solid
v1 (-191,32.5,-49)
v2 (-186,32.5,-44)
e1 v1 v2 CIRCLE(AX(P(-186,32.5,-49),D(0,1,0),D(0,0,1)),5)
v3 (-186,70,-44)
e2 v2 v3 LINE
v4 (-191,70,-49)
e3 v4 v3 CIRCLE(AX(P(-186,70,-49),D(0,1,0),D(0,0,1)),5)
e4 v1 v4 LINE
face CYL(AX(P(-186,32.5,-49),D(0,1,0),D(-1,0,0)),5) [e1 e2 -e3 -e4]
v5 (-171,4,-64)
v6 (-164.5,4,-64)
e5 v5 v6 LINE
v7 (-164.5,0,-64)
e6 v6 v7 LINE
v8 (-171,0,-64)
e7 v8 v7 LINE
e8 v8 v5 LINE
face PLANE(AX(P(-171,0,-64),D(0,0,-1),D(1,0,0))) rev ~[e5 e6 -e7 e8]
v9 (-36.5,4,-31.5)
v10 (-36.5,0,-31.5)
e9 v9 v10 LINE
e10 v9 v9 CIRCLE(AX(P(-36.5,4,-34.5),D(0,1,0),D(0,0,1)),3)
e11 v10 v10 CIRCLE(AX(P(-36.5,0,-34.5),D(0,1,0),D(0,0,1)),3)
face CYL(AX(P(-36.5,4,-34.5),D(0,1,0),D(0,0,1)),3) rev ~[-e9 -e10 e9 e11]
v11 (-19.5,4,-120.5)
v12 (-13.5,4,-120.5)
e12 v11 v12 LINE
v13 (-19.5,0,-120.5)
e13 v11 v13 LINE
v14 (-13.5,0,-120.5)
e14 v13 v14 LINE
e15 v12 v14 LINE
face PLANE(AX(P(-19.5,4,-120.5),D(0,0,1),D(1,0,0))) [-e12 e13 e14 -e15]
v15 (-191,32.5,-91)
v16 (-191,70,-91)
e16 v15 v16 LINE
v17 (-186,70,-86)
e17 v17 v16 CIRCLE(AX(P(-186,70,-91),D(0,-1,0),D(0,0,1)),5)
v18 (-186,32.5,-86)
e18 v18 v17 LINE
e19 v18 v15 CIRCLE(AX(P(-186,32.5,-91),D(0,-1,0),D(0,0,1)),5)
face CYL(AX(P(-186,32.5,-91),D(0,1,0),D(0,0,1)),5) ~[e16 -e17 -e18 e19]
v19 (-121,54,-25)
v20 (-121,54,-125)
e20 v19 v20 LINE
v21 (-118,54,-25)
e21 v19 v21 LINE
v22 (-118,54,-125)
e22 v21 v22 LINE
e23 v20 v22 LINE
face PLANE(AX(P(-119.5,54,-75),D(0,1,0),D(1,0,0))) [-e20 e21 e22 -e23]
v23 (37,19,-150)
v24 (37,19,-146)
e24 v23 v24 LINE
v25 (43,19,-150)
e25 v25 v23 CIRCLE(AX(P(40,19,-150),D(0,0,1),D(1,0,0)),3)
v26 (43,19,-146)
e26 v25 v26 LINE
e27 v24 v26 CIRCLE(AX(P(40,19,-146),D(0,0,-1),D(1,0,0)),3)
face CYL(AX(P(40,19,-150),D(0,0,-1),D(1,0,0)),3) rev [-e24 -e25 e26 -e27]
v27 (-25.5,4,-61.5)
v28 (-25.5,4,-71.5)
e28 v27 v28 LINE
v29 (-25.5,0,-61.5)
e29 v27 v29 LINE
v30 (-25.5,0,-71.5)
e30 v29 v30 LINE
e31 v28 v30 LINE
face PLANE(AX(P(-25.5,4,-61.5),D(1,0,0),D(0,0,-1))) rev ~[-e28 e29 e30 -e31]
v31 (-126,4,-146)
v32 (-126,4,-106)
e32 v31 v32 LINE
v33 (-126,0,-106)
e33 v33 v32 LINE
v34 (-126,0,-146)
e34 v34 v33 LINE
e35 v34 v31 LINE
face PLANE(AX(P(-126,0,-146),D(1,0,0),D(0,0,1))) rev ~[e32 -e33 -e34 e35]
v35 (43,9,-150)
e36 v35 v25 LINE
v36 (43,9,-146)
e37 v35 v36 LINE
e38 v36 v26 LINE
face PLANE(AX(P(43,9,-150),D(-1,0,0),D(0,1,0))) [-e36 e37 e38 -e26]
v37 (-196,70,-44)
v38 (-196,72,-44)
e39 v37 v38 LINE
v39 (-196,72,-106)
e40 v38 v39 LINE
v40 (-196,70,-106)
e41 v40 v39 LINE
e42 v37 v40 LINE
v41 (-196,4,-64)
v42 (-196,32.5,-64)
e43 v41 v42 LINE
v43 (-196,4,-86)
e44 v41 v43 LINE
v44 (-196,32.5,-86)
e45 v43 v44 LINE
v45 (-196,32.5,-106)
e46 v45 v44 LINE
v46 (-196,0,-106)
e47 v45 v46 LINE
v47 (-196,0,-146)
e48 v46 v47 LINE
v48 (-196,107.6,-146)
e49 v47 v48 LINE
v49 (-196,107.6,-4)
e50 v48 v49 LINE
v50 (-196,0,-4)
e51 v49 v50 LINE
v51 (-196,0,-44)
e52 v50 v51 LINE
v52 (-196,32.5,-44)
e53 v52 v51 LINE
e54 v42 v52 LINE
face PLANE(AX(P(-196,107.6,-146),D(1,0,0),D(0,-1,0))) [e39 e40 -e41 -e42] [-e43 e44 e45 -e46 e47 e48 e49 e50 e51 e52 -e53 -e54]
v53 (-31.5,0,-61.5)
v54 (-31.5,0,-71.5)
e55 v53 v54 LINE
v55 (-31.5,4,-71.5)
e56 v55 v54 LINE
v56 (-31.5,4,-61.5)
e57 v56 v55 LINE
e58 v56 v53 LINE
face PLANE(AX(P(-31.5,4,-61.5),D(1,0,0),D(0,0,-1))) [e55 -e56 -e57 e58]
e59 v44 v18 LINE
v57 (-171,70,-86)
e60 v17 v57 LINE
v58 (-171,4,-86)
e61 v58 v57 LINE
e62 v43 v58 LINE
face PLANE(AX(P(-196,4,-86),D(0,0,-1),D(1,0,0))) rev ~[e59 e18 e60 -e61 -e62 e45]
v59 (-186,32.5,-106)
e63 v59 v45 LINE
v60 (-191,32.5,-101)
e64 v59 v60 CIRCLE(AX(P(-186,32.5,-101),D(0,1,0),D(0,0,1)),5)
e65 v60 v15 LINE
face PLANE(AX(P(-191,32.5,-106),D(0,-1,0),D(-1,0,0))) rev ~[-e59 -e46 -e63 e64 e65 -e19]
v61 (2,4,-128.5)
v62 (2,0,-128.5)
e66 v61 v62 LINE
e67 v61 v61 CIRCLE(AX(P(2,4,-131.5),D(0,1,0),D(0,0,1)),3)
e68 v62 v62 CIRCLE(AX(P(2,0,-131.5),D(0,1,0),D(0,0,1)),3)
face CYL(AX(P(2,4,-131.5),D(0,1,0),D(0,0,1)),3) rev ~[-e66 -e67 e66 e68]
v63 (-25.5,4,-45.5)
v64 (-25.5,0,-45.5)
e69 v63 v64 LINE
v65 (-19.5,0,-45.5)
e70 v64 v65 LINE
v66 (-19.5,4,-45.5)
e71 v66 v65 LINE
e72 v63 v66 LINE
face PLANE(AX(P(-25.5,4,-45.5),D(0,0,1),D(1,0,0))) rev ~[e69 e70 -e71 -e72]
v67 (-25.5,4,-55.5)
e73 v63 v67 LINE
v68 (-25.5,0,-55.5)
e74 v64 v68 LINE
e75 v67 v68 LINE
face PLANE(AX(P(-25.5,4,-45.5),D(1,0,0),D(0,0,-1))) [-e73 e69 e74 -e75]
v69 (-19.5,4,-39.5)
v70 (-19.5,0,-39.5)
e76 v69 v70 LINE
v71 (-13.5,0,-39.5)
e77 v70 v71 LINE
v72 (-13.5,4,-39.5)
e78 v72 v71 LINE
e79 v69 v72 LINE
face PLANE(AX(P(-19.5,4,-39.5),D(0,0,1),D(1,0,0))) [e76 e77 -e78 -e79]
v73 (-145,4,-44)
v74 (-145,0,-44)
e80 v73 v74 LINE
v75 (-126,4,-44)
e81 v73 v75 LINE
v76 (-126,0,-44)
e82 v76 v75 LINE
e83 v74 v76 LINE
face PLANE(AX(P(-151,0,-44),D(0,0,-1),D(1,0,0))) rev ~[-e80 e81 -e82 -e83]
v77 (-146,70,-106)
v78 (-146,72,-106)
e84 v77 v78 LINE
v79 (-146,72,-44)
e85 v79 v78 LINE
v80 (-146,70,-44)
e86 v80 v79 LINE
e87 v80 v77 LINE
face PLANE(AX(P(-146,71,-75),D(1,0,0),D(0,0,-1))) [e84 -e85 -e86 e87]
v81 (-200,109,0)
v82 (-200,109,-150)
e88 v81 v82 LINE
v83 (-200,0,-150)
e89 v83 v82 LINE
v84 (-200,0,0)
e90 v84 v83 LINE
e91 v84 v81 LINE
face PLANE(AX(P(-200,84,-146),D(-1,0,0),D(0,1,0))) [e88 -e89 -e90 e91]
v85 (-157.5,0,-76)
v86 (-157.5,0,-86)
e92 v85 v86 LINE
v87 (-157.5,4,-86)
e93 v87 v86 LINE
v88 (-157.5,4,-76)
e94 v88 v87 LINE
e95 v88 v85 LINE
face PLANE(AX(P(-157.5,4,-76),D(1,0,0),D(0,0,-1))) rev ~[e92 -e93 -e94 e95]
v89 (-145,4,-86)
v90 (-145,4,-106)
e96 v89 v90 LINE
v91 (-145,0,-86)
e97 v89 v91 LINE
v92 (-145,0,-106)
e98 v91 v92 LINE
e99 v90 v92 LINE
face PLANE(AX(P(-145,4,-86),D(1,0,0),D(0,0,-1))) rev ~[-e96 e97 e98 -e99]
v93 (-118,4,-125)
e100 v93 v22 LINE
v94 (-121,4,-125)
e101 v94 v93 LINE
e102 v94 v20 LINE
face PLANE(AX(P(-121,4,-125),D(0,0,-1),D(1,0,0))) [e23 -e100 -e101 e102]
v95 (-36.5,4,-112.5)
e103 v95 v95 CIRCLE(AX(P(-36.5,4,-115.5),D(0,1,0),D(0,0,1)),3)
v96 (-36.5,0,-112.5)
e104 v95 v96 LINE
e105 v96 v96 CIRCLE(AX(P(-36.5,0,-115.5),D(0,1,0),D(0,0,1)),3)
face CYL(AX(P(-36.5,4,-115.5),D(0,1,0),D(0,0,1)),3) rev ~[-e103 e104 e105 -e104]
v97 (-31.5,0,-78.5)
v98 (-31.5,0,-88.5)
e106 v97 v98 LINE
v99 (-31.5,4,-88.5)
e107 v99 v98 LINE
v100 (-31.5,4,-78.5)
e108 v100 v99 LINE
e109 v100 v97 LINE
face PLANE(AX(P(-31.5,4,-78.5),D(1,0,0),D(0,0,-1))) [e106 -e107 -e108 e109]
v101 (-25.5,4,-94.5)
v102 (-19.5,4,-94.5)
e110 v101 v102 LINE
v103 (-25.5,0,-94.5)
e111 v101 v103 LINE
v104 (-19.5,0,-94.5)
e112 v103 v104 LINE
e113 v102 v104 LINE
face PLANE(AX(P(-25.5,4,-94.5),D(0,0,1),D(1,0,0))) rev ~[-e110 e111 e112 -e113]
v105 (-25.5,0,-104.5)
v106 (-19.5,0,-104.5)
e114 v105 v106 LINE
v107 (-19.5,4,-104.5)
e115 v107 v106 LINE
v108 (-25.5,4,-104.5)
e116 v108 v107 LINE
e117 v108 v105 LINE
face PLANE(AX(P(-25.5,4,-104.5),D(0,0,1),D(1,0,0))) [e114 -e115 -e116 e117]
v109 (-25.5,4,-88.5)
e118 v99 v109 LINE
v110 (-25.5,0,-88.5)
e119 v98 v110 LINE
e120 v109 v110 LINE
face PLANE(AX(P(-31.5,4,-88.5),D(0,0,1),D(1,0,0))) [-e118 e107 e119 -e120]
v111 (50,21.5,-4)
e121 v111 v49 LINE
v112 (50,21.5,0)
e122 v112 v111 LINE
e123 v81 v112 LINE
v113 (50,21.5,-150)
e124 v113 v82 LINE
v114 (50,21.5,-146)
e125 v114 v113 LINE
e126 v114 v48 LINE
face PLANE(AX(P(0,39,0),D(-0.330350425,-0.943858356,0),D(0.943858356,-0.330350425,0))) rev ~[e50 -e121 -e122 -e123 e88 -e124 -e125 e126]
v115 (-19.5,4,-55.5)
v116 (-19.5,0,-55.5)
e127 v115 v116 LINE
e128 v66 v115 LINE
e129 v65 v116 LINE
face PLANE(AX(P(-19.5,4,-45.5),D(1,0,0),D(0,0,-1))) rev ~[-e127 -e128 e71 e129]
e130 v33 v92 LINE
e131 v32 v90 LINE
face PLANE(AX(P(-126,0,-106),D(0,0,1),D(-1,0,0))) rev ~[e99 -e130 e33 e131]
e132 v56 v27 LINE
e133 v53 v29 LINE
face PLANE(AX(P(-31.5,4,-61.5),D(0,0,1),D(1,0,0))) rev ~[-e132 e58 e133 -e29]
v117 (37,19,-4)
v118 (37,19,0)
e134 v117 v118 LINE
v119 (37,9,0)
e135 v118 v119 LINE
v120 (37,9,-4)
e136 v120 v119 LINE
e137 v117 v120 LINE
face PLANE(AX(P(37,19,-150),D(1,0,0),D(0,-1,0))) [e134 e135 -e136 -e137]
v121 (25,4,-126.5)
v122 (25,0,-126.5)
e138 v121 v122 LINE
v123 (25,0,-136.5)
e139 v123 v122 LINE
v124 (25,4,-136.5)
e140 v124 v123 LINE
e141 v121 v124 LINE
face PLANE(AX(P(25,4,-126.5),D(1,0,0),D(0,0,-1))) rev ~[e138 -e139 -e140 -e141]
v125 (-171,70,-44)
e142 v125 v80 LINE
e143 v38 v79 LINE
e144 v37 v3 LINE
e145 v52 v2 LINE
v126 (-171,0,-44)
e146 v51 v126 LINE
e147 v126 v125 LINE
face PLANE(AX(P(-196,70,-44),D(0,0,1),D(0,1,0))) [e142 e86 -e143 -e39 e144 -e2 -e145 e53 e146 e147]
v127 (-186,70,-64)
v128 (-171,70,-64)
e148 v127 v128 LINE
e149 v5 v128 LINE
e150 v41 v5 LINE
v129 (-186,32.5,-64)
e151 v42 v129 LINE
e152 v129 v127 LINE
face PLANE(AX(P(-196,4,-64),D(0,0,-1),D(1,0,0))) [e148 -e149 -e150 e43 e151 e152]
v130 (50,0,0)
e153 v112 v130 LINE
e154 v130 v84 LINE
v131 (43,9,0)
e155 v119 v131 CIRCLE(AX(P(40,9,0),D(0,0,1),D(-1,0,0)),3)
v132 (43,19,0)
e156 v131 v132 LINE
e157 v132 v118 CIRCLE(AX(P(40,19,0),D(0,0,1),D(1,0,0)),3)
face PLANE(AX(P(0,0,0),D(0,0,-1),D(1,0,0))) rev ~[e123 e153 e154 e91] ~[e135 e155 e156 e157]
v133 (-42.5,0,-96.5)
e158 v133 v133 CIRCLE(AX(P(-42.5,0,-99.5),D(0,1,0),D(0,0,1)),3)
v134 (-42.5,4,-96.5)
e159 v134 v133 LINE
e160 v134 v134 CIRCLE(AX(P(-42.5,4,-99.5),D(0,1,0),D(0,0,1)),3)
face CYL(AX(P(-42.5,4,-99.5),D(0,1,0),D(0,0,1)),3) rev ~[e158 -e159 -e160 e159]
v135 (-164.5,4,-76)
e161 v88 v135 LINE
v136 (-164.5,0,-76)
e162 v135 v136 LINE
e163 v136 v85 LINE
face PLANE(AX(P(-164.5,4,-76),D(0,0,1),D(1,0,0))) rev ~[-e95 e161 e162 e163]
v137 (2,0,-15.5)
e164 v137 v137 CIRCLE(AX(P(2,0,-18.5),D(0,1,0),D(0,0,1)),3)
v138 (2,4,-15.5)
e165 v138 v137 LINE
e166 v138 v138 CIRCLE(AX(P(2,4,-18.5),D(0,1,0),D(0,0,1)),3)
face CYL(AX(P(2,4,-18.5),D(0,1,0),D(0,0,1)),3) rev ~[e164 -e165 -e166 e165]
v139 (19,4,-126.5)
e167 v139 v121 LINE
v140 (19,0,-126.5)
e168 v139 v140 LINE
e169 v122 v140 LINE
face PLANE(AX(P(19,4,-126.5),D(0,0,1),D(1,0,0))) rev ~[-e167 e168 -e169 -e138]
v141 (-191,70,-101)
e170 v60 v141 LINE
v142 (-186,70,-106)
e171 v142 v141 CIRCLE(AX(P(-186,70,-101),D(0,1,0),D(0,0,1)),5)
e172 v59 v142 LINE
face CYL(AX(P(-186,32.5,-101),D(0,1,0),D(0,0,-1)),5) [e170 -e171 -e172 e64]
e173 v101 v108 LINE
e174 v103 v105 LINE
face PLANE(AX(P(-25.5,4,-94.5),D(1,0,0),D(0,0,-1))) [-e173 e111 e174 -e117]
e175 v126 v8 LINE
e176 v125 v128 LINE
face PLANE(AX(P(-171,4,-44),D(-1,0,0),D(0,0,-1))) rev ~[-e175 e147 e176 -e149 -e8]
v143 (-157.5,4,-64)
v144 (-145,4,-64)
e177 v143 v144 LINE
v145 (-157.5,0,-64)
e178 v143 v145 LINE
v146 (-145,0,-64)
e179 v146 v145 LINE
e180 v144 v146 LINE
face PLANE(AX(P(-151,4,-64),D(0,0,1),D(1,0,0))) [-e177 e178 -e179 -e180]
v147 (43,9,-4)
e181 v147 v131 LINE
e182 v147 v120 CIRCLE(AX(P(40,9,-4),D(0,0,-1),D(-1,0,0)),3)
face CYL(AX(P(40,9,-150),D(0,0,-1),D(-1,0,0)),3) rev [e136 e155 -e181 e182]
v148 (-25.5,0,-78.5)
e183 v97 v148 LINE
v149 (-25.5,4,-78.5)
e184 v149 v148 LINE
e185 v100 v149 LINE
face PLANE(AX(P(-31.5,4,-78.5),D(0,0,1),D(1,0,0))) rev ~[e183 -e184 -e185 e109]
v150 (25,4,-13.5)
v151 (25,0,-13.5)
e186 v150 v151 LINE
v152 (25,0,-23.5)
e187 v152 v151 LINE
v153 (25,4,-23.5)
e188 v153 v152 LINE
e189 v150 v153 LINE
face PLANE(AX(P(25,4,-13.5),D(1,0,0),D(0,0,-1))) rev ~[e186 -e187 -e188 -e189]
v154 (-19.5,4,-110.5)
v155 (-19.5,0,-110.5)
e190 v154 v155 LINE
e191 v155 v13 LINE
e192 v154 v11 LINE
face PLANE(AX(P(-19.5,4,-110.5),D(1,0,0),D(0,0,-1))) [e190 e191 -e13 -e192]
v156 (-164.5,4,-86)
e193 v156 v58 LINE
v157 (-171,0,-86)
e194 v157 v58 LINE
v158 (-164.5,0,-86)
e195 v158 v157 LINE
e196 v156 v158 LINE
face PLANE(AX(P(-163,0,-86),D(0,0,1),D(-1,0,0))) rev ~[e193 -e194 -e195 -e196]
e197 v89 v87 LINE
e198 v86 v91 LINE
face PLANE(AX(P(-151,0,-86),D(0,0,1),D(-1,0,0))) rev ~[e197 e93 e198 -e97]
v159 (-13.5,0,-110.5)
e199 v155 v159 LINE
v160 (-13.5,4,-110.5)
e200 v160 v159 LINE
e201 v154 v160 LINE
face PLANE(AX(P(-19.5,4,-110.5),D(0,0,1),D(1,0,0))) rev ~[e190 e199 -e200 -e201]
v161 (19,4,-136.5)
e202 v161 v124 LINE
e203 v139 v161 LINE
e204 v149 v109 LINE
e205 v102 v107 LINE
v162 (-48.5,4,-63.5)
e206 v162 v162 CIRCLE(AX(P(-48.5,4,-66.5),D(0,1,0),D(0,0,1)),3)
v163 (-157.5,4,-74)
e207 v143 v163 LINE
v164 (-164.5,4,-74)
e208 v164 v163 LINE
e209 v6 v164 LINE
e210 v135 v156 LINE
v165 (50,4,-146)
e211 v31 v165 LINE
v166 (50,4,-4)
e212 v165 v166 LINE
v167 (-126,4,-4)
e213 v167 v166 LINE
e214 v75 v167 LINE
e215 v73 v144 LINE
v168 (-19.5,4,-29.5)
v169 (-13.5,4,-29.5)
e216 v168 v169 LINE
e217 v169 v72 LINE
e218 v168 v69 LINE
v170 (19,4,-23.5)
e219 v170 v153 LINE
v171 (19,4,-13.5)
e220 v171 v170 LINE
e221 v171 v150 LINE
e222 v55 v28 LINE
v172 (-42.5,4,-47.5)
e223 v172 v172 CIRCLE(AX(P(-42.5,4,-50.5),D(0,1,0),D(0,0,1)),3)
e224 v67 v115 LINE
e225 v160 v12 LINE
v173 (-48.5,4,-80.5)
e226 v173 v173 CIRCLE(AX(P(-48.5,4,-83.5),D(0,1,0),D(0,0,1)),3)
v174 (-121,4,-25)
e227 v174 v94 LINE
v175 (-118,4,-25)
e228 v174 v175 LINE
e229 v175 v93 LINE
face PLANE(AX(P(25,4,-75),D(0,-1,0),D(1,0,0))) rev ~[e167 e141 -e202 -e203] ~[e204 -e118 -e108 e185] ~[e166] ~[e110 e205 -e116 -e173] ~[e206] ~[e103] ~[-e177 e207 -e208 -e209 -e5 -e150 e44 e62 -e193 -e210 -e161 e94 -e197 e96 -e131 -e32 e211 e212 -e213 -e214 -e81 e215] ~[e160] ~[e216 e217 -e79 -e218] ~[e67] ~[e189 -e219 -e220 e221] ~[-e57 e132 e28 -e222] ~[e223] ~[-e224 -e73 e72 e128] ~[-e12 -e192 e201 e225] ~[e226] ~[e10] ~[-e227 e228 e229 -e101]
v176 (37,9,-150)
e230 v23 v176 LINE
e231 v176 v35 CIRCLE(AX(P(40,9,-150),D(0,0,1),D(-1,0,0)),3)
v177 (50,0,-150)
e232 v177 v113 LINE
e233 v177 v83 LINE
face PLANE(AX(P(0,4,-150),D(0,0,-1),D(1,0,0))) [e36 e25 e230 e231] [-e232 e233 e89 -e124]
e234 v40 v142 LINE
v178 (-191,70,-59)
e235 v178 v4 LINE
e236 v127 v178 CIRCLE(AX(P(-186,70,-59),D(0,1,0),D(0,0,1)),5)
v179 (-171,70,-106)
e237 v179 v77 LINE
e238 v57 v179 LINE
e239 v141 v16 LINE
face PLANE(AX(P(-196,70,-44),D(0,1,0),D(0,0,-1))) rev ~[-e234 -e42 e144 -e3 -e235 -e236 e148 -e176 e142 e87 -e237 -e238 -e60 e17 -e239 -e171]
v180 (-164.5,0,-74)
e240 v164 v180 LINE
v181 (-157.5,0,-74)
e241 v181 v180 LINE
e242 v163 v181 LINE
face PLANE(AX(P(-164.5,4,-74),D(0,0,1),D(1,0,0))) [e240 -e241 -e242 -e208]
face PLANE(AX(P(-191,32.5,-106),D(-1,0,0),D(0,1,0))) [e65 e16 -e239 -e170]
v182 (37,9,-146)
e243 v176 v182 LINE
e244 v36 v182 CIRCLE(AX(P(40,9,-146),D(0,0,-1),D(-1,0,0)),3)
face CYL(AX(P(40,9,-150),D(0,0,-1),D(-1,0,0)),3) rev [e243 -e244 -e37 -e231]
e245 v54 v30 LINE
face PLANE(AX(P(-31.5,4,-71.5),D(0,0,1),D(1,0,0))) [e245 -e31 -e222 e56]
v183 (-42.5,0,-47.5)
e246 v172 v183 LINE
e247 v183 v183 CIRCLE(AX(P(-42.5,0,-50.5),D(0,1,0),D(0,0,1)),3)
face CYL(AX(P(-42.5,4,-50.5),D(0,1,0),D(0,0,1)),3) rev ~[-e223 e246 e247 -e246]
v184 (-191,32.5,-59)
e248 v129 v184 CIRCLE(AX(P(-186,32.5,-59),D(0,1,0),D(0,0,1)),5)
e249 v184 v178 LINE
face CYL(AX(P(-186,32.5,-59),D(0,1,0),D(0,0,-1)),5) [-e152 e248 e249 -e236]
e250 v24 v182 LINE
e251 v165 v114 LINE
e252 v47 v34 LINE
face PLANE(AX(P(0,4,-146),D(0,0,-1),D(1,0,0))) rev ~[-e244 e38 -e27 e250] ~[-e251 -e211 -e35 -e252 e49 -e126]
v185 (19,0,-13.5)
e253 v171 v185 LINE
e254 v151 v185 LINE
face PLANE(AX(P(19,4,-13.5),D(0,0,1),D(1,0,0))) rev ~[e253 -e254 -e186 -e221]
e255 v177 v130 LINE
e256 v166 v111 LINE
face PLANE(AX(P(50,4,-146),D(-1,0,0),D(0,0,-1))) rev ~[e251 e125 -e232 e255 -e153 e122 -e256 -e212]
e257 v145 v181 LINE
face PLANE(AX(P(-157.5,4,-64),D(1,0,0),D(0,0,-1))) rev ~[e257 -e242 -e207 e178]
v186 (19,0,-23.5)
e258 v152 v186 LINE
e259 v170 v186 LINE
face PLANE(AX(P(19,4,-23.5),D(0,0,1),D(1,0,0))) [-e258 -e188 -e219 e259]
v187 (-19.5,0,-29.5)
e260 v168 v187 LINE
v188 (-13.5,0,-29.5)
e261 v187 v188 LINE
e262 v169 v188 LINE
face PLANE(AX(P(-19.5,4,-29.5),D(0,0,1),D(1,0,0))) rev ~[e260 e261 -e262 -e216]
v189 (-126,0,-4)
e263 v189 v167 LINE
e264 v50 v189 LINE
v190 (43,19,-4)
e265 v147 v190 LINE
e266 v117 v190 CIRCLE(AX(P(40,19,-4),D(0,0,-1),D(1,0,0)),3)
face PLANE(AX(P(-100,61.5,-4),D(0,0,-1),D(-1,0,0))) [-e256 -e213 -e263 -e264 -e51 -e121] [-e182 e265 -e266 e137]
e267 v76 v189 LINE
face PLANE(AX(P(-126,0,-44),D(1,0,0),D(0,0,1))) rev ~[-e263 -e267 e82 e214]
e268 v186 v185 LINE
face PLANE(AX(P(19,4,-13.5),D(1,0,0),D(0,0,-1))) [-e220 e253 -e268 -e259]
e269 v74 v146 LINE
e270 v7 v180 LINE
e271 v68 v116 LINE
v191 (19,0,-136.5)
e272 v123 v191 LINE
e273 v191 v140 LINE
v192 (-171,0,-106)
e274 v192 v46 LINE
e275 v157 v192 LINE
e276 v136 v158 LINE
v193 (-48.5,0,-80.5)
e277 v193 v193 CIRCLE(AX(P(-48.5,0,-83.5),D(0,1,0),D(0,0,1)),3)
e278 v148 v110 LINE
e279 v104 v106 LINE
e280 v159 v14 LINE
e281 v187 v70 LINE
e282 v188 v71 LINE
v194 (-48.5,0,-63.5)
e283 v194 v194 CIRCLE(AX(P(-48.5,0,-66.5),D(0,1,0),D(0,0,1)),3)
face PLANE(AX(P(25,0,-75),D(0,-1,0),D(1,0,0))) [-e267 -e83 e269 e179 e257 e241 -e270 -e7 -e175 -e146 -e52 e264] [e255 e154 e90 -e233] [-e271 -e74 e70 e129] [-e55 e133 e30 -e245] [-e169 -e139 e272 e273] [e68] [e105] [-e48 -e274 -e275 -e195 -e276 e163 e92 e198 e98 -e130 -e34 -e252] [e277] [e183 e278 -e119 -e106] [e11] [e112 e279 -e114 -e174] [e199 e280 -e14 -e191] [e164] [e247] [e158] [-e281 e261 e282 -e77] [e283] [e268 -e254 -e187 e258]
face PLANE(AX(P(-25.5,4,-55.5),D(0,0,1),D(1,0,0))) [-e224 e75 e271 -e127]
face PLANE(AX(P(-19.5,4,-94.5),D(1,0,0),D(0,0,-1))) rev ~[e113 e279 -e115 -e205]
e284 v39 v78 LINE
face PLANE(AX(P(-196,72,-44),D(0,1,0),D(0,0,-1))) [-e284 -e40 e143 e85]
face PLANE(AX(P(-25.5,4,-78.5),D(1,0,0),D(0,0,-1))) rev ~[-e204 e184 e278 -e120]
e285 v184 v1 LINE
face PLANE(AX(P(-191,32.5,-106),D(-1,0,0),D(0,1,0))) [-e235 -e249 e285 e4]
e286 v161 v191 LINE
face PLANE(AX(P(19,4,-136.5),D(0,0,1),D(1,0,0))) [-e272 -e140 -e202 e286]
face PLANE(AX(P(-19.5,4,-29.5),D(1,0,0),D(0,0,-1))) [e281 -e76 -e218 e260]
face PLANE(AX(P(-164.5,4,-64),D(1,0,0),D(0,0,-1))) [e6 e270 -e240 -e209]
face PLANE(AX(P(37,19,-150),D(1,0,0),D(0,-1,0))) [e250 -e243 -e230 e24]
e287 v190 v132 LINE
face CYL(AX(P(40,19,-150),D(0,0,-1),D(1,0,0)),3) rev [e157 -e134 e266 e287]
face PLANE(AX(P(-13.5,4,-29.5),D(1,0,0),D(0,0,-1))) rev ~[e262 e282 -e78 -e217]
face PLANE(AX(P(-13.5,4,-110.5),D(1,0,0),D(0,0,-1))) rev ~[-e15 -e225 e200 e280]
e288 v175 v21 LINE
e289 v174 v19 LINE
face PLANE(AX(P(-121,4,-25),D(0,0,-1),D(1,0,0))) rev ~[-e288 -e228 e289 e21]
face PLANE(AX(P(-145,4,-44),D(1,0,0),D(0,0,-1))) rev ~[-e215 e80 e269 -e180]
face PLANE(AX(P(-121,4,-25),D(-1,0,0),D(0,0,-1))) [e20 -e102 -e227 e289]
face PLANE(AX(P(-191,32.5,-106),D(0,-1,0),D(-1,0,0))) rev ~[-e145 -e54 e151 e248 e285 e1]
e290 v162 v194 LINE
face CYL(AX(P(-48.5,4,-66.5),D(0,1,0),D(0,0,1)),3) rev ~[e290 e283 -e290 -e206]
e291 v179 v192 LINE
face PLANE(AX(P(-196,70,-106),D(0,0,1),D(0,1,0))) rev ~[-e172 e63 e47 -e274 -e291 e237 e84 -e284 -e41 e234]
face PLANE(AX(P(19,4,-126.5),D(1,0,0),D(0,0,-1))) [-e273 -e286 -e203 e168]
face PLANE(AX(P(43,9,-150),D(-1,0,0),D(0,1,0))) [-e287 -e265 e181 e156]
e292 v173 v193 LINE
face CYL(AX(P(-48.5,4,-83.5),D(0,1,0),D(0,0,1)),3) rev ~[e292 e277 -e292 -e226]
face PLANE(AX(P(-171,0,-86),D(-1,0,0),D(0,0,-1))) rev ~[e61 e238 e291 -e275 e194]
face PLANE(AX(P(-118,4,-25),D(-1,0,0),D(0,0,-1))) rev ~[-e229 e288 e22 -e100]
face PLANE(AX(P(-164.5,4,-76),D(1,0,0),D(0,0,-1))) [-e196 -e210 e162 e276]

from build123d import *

# Parameters (mm, degrees)
SKETCH1_W            = 200
SKETCH1_H            = 150
SKETCH1_W_2          = 192
SKETCH1_H_2          = 142
BOSS_EXTRUDE2_DEPTH  = 4
SKETCH2_W            = 200
SKETCH2_H            = 150
SKETCH2_W_2          = 192
SKETCH2_H_2          = 142
BOSS_EXTRUDE3_DEPTH  = 80
CUT_EXTRUDE1_DEPTH   = 150
SKETCH4_R            = 3
SKETCH4_W            = 6
SKETCH4_H            = 10
CUT_EXTRUDE2_DEPTH   = 10
SKETCH5_W            = 142
SKETCH5_H            = 11.4
CUT_EXTRUDE4_DEPTH   = 10
SKETCH6_W            = 25
SKETCH6_H            = 20
BOSS_EXTRUDE4_DEPTH  = 66
SKETCH7_W            = 5
SKETCH7_H            = 37.5
CUT_EXTRUDE5_DEPTH   = 66
BOSS_EXTRUDE6_DEPTH  = 4
BOSS_EXTRUDE7_DEPTH  = 4
BOSS_EXTRUDE8_DEPTH  = 142
FILLET1_R            = 5
FILLET2_R            = 5
FILLET3_R            = 5
SKETCH15_W           = 62
SKETCH15_H           = 2
BOSS_EXTRUDE9_DEPTH  = 50
SKETCH16_W           = 6
SKETCH16_H           = 20
CUT_EXTRUDE8_DEPTH   = 50
SKETCH17_W           = 7
SKETCH17_H           = 10
CUT_EXTRUDE9_DEPTH   = 50
SKETCH18_W           = 50
SKETCH18_H           = 150
BOSS_EXTRUDE10_DEPTH = 4
SKETCH19_W           = 50
SKETCH19_H           = 4
BOSS_EXTRUDE11_DEPTH = 35
CUT_EXTRUDE10_DEPTH  = 210
SKETCH21_R           = 3
SKETCH21_W           = 6
SKETCH21_H           = 10
CUT_EXTRUDE11_DEPTH  = 30
SKETCH22_W           = 3
SKETCH22_H           = 100
BOSS_EXTRUDE12_DEPTH = 50
CUT_EXTRUDE12_DEPTH  = 150


with BuildPart() as part:
    # Sketch1 → Boss-Extrude2 (new body)
    # profile 1 of 3: a face of its own
    with BuildSketch(Plane(origin=(0, 0, 0), x_dir=(1, 0, 0), z_dir=(0, 1, 0))):
        with Locations((-100, 75)):
            Rectangle(SKETCH1_W, SKETCH1_H)
        with Locations((-100, 75)):
            Rectangle(SKETCH1_W_2, SKETCH1_H_2, mode=Mode.SUBTRACT)
    # profile 2 of 3: a face of its own
    with BuildSketch(Plane(origin=(0, 0, 0), x_dir=(1, 0, 0), z_dir=(0, 1, 0))):
        Polygon((-4, 75), (-196, 75), (-196, 44), (-171, 44), (-171, 64), (-163, 64), (-163, 74), (-159, 74), (-159, 64), (-151, 64), (-151, 44), (-126, 44), (-126, 4), (-4, 4), align=None)
    # profile 3 of 3: a face of its own
    with BuildSketch(Plane(origin=(0, 0, 0), x_dir=(1, 0, 0), z_dir=(0, 1, 0))):
        Polygon((-196, 106), (-196, 75), (-4, 75), (-4, 146), (-126, 146), (-126, 106), (-151, 106), (-151, 86), (-159, 86), (-159, 76), (-163, 76), (-163, 86), (-171, 86), (-171, 106), align=None)
    extrude(amount=BOSS_EXTRUDE2_DEPTH)

    # Sketch2 → Boss-Extrude3 (add)
    with BuildSketch(Plane(origin=(0, 4, 0), x_dir=(1, 0, 0), z_dir=(0, 1, 0))):
        with Locations((-100, 75)):
            Rectangle(SKETCH2_W, SKETCH2_H)
        with Locations((-100, 75)):
            Rectangle(SKETCH2_W_2, SKETCH2_H_2, mode=Mode.SUBTRACT)
    extrude(amount=BOSS_EXTRUDE3_DEPTH)

    # Sketch3 → Cut-Extrude1 (cut)
    with BuildSketch(Plane.XY):
        Polygon((-200, 84), (0, 14), (0, 84), align=None)
    extrude(amount=-CUT_EXTRUDE1_DEPTH, mode=Mode.SUBTRACT)

    # Sketch4 → Cut-Extrude2 (cut)
    with BuildSketch(Plane(origin=(0, 4, 0), x_dir=(1, 0, 0), z_dir=(0, 1, 0))):
        with Locations(Location((-36.5, 115.5, 0), (0, 0, 270))):
            Circle(SKETCH4_R)
        with Locations(Location((-42.5, 99.5, 0), (0, 0, 270))):
            Circle(SKETCH4_R)
        with Locations(Location((-48.5, 83.5, 0), (0, 0, 270))):
            Circle(SKETCH4_R)
        with Locations(Location((-48.5, 66.5, 0), (0, 0, 270))):
            Circle(SKETCH4_R)
        with Locations(Location((-42.5, 50.5, 0), (0, 0, 270))):
            Circle(SKETCH4_R)
        with Locations(Location((-36.5, 34.5, 0), (0, 0, 270))):
            Circle(SKETCH4_R)
        with Locations((-16.5, 34.5)):
            Rectangle(SKETCH4_W, SKETCH4_H)
        with Locations((-16.5, 115.5)):
            Rectangle(SKETCH4_W, SKETCH4_H)
        with Locations((-22.5, 99.5)):
            Rectangle(SKETCH4_W, SKETCH4_H)
        with Locations((-22.5, 50.5)):
            Rectangle(SKETCH4_W, SKETCH4_H)
        with Locations((-28.5, 66.5)):
            Rectangle(SKETCH4_W, SKETCH4_H)
        with Locations((-28.5, 83.5)):
            Rectangle(SKETCH4_W, SKETCH4_H)
    extrude(amount=-CUT_EXTRUDE2_DEPTH, mode=Mode.SUBTRACT)

    # Sketch5 → Cut-Extrude4 (cut)
    with BuildSketch(Plane(origin=(0, 0, 0), x_dir=(0, 0, -1), z_dir=(1, 0, 0))):
        with Locations((75, 9.7)):
            Rectangle(SKETCH5_W, SKETCH5_H)
    extrude(amount=-CUT_EXTRUDE4_DEPTH, mode=Mode.SUBTRACT)

    # Sketch6 → Boss-Extrude4 (add)
    with BuildSketch(Plane(origin=(0, 4, 0), x_dir=(1, 0, 0), z_dir=(0, 1, 0))):
        with Locations((-183.5, 54)):
            Rectangle(SKETCH6_W, SKETCH6_H)
        with Locations((-183.5, 96)):
            Rectangle(SKETCH6_W, SKETCH6_H)
    extrude(amount=BOSS_EXTRUDE4_DEPTH)

    # Sketch7 → Cut-Extrude5 (cut)
    with BuildSketch(Plane(origin=(0, 0, -106), x_dir=(-1, 0, 0), z_dir=(0, 0, -1))):
        with Locations((193.5, 51.25)):
            Rectangle(SKETCH7_W, SKETCH7_H)
    extrude(amount=-CUT_EXTRUDE5_DEPTH, mode=Mode.SUBTRACT)

    # Sketch12 → Boss-Extrude6 (add)
    with BuildSketch(Plane.XY):
        Polygon((-200, 84), (-200, 109), (0, 39), (0, 14), align=None)
    extrude(amount=-BOSS_EXTRUDE6_DEPTH)

    # Sketch13 → Boss-Extrude7 (add)
    with BuildSketch(Plane(origin=(0, 0, -150), x_dir=(-1, 0, 0), z_dir=(0, 0, -1))):
        Polygon((0, 14), (0, 39), (200, 109), (200, 84), align=None)
    extrude(amount=-BOSS_EXTRUDE7_DEPTH)

    # Sketch14 → Boss-Extrude8 (add)
    with BuildSketch(Plane.XY.offset(-146)):
        Polygon((-200, 84), (-200, 109), (-196, 107.6), (-196, 82.6), align=None)
    extrude(amount=BOSS_EXTRUDE8_DEPTH)

    # Fillet1
    fillet1_edges = [part.edges().sort_by_distance(p)[0] for p in [
        (-191, 51.25, -106),
    ]]
    fillet(fillet1_edges, radius=FILLET1_R)

    # Fillet2
    fillet2_edges = [part.edges().sort_by_distance(p)[0] for p in [
        (-191, 51.25, -86),
    ]]
    fillet(fillet2_edges, radius=FILLET2_R)

    # Fillet3
    fillet3_edges = [part.edges().sort_by_distance(p)[0] for p in [
        (-191, 51.25, -44),
        (-191, 51.25, -64),
    ]]
    fillet(fillet3_edges, radius=FILLET3_R)

    # Sketch15 → Boss-Extrude9 (add)
    with BuildSketch(Plane(origin=(-196, 0, 0), x_dir=(0, 0, -1), z_dir=(1, 0, 0))):
        with Locations((75, 71)):
            Rectangle(SKETCH15_W, SKETCH15_H)
    extrude(amount=BOSS_EXTRUDE9_DEPTH)

    # Sketch16 → Cut-Extrude8 (cut)
    with BuildSketch(Plane(origin=(0, 4, 0), x_dir=(1, 0, 0), z_dir=(0, 1, 0))):
        with Locations((-148, 96)):
            Rectangle(SKETCH16_W, SKETCH16_H)
        with Locations((-148, 54)):
            Rectangle(SKETCH16_W, SKETCH16_H)
    extrude(amount=-CUT_EXTRUDE8_DEPTH, mode=Mode.SUBTRACT)

    # Sketch17 → Cut-Extrude9 (cut)
    with BuildSketch(Plane(origin=(0, 4, 0), x_dir=(1, 0, 0), z_dir=(0, 1, 0))):
        with Locations((-161, 69)):
            Rectangle(SKETCH17_W, SKETCH17_H)
        with Locations((-161, 81)):
            Rectangle(SKETCH17_W, SKETCH17_H)
    extrude(amount=-CUT_EXTRUDE9_DEPTH, mode=Mode.SUBTRACT)

    # Sketch18 → Boss-Extrude10 (add)
    with BuildSketch(Plane.XZ):
        with Locations((25, -75)):
            Rectangle(SKETCH18_W, SKETCH18_H)
    extrude(amount=-BOSS_EXTRUDE10_DEPTH)

    # Sketch19 → Boss-Extrude11 (add)
    with BuildSketch(Plane(origin=(0, 4, 0), x_dir=(1, 0, 0), z_dir=(0, 1, 0))):
        with Locations((25, 148)):
            Rectangle(SKETCH19_W, SKETCH19_H)
        with Locations((25, 2)):
            Rectangle(SKETCH19_W, SKETCH19_H)
    extrude(amount=BOSS_EXTRUDE11_DEPTH)

    # Sketch20 → Cut-Extrude10 (cut)
    with BuildSketch(Plane.XY):
        Polygon((0, 39), (50, 21.5), (50, 39), align=None)
    extrude(amount=-CUT_EXTRUDE10_DEPTH, mode=Mode.SUBTRACT)

    # Sketch21 → Cut-Extrude11 (cut)
    with BuildSketch(Plane(origin=(0, 4, 0), x_dir=(1, 0, 0), z_dir=(0, 1, 0))):
        with Locations(Location((2, 131.5, 0), (0, 0, 270))):
            Circle(SKETCH21_R)
        with Locations(Location((2, 18.5, 0), (0, 0, 270))):
            Circle(SKETCH21_R)
        with Locations((22, 18.5)):
            Rectangle(SKETCH21_W, SKETCH21_H)
        with Locations((22, 131.5)):
            Rectangle(SKETCH21_W, SKETCH21_H)
    extrude(amount=-CUT_EXTRUDE11_DEPTH, mode=Mode.SUBTRACT)

    # Sketch22 → Boss-Extrude12 (add)
    with BuildSketch(Plane(origin=(0, 4, 0), x_dir=(1, 0, 0), z_dir=(0, 1, 0))):
        with Locations((-119.5, 75)):
            Rectangle(SKETCH22_W, SKETCH22_H)
    extrude(amount=BOSS_EXTRUDE12_DEPTH)

    # Sketch23 → Cut-Extrude12 (cut)
    with BuildSketch(Plane(origin=(0, 0, -150), x_dir=(-1, 0, 0), z_dir=(0, 0, -1))):
        with BuildLine():
            Line((-43, 9), (-43, 19))
            ThreePointArc((-43, 19), (-40, 22), (-37, 19))
            Line((-37, 19), (-37, 9))
            ThreePointArc((-37, 9), (-40, 6), (-43, 9))
        make_face()
    extrude(amount=-CUT_EXTRUDE12_DEPTH, mode=Mode.SUBTRACT)


solid = part.part
